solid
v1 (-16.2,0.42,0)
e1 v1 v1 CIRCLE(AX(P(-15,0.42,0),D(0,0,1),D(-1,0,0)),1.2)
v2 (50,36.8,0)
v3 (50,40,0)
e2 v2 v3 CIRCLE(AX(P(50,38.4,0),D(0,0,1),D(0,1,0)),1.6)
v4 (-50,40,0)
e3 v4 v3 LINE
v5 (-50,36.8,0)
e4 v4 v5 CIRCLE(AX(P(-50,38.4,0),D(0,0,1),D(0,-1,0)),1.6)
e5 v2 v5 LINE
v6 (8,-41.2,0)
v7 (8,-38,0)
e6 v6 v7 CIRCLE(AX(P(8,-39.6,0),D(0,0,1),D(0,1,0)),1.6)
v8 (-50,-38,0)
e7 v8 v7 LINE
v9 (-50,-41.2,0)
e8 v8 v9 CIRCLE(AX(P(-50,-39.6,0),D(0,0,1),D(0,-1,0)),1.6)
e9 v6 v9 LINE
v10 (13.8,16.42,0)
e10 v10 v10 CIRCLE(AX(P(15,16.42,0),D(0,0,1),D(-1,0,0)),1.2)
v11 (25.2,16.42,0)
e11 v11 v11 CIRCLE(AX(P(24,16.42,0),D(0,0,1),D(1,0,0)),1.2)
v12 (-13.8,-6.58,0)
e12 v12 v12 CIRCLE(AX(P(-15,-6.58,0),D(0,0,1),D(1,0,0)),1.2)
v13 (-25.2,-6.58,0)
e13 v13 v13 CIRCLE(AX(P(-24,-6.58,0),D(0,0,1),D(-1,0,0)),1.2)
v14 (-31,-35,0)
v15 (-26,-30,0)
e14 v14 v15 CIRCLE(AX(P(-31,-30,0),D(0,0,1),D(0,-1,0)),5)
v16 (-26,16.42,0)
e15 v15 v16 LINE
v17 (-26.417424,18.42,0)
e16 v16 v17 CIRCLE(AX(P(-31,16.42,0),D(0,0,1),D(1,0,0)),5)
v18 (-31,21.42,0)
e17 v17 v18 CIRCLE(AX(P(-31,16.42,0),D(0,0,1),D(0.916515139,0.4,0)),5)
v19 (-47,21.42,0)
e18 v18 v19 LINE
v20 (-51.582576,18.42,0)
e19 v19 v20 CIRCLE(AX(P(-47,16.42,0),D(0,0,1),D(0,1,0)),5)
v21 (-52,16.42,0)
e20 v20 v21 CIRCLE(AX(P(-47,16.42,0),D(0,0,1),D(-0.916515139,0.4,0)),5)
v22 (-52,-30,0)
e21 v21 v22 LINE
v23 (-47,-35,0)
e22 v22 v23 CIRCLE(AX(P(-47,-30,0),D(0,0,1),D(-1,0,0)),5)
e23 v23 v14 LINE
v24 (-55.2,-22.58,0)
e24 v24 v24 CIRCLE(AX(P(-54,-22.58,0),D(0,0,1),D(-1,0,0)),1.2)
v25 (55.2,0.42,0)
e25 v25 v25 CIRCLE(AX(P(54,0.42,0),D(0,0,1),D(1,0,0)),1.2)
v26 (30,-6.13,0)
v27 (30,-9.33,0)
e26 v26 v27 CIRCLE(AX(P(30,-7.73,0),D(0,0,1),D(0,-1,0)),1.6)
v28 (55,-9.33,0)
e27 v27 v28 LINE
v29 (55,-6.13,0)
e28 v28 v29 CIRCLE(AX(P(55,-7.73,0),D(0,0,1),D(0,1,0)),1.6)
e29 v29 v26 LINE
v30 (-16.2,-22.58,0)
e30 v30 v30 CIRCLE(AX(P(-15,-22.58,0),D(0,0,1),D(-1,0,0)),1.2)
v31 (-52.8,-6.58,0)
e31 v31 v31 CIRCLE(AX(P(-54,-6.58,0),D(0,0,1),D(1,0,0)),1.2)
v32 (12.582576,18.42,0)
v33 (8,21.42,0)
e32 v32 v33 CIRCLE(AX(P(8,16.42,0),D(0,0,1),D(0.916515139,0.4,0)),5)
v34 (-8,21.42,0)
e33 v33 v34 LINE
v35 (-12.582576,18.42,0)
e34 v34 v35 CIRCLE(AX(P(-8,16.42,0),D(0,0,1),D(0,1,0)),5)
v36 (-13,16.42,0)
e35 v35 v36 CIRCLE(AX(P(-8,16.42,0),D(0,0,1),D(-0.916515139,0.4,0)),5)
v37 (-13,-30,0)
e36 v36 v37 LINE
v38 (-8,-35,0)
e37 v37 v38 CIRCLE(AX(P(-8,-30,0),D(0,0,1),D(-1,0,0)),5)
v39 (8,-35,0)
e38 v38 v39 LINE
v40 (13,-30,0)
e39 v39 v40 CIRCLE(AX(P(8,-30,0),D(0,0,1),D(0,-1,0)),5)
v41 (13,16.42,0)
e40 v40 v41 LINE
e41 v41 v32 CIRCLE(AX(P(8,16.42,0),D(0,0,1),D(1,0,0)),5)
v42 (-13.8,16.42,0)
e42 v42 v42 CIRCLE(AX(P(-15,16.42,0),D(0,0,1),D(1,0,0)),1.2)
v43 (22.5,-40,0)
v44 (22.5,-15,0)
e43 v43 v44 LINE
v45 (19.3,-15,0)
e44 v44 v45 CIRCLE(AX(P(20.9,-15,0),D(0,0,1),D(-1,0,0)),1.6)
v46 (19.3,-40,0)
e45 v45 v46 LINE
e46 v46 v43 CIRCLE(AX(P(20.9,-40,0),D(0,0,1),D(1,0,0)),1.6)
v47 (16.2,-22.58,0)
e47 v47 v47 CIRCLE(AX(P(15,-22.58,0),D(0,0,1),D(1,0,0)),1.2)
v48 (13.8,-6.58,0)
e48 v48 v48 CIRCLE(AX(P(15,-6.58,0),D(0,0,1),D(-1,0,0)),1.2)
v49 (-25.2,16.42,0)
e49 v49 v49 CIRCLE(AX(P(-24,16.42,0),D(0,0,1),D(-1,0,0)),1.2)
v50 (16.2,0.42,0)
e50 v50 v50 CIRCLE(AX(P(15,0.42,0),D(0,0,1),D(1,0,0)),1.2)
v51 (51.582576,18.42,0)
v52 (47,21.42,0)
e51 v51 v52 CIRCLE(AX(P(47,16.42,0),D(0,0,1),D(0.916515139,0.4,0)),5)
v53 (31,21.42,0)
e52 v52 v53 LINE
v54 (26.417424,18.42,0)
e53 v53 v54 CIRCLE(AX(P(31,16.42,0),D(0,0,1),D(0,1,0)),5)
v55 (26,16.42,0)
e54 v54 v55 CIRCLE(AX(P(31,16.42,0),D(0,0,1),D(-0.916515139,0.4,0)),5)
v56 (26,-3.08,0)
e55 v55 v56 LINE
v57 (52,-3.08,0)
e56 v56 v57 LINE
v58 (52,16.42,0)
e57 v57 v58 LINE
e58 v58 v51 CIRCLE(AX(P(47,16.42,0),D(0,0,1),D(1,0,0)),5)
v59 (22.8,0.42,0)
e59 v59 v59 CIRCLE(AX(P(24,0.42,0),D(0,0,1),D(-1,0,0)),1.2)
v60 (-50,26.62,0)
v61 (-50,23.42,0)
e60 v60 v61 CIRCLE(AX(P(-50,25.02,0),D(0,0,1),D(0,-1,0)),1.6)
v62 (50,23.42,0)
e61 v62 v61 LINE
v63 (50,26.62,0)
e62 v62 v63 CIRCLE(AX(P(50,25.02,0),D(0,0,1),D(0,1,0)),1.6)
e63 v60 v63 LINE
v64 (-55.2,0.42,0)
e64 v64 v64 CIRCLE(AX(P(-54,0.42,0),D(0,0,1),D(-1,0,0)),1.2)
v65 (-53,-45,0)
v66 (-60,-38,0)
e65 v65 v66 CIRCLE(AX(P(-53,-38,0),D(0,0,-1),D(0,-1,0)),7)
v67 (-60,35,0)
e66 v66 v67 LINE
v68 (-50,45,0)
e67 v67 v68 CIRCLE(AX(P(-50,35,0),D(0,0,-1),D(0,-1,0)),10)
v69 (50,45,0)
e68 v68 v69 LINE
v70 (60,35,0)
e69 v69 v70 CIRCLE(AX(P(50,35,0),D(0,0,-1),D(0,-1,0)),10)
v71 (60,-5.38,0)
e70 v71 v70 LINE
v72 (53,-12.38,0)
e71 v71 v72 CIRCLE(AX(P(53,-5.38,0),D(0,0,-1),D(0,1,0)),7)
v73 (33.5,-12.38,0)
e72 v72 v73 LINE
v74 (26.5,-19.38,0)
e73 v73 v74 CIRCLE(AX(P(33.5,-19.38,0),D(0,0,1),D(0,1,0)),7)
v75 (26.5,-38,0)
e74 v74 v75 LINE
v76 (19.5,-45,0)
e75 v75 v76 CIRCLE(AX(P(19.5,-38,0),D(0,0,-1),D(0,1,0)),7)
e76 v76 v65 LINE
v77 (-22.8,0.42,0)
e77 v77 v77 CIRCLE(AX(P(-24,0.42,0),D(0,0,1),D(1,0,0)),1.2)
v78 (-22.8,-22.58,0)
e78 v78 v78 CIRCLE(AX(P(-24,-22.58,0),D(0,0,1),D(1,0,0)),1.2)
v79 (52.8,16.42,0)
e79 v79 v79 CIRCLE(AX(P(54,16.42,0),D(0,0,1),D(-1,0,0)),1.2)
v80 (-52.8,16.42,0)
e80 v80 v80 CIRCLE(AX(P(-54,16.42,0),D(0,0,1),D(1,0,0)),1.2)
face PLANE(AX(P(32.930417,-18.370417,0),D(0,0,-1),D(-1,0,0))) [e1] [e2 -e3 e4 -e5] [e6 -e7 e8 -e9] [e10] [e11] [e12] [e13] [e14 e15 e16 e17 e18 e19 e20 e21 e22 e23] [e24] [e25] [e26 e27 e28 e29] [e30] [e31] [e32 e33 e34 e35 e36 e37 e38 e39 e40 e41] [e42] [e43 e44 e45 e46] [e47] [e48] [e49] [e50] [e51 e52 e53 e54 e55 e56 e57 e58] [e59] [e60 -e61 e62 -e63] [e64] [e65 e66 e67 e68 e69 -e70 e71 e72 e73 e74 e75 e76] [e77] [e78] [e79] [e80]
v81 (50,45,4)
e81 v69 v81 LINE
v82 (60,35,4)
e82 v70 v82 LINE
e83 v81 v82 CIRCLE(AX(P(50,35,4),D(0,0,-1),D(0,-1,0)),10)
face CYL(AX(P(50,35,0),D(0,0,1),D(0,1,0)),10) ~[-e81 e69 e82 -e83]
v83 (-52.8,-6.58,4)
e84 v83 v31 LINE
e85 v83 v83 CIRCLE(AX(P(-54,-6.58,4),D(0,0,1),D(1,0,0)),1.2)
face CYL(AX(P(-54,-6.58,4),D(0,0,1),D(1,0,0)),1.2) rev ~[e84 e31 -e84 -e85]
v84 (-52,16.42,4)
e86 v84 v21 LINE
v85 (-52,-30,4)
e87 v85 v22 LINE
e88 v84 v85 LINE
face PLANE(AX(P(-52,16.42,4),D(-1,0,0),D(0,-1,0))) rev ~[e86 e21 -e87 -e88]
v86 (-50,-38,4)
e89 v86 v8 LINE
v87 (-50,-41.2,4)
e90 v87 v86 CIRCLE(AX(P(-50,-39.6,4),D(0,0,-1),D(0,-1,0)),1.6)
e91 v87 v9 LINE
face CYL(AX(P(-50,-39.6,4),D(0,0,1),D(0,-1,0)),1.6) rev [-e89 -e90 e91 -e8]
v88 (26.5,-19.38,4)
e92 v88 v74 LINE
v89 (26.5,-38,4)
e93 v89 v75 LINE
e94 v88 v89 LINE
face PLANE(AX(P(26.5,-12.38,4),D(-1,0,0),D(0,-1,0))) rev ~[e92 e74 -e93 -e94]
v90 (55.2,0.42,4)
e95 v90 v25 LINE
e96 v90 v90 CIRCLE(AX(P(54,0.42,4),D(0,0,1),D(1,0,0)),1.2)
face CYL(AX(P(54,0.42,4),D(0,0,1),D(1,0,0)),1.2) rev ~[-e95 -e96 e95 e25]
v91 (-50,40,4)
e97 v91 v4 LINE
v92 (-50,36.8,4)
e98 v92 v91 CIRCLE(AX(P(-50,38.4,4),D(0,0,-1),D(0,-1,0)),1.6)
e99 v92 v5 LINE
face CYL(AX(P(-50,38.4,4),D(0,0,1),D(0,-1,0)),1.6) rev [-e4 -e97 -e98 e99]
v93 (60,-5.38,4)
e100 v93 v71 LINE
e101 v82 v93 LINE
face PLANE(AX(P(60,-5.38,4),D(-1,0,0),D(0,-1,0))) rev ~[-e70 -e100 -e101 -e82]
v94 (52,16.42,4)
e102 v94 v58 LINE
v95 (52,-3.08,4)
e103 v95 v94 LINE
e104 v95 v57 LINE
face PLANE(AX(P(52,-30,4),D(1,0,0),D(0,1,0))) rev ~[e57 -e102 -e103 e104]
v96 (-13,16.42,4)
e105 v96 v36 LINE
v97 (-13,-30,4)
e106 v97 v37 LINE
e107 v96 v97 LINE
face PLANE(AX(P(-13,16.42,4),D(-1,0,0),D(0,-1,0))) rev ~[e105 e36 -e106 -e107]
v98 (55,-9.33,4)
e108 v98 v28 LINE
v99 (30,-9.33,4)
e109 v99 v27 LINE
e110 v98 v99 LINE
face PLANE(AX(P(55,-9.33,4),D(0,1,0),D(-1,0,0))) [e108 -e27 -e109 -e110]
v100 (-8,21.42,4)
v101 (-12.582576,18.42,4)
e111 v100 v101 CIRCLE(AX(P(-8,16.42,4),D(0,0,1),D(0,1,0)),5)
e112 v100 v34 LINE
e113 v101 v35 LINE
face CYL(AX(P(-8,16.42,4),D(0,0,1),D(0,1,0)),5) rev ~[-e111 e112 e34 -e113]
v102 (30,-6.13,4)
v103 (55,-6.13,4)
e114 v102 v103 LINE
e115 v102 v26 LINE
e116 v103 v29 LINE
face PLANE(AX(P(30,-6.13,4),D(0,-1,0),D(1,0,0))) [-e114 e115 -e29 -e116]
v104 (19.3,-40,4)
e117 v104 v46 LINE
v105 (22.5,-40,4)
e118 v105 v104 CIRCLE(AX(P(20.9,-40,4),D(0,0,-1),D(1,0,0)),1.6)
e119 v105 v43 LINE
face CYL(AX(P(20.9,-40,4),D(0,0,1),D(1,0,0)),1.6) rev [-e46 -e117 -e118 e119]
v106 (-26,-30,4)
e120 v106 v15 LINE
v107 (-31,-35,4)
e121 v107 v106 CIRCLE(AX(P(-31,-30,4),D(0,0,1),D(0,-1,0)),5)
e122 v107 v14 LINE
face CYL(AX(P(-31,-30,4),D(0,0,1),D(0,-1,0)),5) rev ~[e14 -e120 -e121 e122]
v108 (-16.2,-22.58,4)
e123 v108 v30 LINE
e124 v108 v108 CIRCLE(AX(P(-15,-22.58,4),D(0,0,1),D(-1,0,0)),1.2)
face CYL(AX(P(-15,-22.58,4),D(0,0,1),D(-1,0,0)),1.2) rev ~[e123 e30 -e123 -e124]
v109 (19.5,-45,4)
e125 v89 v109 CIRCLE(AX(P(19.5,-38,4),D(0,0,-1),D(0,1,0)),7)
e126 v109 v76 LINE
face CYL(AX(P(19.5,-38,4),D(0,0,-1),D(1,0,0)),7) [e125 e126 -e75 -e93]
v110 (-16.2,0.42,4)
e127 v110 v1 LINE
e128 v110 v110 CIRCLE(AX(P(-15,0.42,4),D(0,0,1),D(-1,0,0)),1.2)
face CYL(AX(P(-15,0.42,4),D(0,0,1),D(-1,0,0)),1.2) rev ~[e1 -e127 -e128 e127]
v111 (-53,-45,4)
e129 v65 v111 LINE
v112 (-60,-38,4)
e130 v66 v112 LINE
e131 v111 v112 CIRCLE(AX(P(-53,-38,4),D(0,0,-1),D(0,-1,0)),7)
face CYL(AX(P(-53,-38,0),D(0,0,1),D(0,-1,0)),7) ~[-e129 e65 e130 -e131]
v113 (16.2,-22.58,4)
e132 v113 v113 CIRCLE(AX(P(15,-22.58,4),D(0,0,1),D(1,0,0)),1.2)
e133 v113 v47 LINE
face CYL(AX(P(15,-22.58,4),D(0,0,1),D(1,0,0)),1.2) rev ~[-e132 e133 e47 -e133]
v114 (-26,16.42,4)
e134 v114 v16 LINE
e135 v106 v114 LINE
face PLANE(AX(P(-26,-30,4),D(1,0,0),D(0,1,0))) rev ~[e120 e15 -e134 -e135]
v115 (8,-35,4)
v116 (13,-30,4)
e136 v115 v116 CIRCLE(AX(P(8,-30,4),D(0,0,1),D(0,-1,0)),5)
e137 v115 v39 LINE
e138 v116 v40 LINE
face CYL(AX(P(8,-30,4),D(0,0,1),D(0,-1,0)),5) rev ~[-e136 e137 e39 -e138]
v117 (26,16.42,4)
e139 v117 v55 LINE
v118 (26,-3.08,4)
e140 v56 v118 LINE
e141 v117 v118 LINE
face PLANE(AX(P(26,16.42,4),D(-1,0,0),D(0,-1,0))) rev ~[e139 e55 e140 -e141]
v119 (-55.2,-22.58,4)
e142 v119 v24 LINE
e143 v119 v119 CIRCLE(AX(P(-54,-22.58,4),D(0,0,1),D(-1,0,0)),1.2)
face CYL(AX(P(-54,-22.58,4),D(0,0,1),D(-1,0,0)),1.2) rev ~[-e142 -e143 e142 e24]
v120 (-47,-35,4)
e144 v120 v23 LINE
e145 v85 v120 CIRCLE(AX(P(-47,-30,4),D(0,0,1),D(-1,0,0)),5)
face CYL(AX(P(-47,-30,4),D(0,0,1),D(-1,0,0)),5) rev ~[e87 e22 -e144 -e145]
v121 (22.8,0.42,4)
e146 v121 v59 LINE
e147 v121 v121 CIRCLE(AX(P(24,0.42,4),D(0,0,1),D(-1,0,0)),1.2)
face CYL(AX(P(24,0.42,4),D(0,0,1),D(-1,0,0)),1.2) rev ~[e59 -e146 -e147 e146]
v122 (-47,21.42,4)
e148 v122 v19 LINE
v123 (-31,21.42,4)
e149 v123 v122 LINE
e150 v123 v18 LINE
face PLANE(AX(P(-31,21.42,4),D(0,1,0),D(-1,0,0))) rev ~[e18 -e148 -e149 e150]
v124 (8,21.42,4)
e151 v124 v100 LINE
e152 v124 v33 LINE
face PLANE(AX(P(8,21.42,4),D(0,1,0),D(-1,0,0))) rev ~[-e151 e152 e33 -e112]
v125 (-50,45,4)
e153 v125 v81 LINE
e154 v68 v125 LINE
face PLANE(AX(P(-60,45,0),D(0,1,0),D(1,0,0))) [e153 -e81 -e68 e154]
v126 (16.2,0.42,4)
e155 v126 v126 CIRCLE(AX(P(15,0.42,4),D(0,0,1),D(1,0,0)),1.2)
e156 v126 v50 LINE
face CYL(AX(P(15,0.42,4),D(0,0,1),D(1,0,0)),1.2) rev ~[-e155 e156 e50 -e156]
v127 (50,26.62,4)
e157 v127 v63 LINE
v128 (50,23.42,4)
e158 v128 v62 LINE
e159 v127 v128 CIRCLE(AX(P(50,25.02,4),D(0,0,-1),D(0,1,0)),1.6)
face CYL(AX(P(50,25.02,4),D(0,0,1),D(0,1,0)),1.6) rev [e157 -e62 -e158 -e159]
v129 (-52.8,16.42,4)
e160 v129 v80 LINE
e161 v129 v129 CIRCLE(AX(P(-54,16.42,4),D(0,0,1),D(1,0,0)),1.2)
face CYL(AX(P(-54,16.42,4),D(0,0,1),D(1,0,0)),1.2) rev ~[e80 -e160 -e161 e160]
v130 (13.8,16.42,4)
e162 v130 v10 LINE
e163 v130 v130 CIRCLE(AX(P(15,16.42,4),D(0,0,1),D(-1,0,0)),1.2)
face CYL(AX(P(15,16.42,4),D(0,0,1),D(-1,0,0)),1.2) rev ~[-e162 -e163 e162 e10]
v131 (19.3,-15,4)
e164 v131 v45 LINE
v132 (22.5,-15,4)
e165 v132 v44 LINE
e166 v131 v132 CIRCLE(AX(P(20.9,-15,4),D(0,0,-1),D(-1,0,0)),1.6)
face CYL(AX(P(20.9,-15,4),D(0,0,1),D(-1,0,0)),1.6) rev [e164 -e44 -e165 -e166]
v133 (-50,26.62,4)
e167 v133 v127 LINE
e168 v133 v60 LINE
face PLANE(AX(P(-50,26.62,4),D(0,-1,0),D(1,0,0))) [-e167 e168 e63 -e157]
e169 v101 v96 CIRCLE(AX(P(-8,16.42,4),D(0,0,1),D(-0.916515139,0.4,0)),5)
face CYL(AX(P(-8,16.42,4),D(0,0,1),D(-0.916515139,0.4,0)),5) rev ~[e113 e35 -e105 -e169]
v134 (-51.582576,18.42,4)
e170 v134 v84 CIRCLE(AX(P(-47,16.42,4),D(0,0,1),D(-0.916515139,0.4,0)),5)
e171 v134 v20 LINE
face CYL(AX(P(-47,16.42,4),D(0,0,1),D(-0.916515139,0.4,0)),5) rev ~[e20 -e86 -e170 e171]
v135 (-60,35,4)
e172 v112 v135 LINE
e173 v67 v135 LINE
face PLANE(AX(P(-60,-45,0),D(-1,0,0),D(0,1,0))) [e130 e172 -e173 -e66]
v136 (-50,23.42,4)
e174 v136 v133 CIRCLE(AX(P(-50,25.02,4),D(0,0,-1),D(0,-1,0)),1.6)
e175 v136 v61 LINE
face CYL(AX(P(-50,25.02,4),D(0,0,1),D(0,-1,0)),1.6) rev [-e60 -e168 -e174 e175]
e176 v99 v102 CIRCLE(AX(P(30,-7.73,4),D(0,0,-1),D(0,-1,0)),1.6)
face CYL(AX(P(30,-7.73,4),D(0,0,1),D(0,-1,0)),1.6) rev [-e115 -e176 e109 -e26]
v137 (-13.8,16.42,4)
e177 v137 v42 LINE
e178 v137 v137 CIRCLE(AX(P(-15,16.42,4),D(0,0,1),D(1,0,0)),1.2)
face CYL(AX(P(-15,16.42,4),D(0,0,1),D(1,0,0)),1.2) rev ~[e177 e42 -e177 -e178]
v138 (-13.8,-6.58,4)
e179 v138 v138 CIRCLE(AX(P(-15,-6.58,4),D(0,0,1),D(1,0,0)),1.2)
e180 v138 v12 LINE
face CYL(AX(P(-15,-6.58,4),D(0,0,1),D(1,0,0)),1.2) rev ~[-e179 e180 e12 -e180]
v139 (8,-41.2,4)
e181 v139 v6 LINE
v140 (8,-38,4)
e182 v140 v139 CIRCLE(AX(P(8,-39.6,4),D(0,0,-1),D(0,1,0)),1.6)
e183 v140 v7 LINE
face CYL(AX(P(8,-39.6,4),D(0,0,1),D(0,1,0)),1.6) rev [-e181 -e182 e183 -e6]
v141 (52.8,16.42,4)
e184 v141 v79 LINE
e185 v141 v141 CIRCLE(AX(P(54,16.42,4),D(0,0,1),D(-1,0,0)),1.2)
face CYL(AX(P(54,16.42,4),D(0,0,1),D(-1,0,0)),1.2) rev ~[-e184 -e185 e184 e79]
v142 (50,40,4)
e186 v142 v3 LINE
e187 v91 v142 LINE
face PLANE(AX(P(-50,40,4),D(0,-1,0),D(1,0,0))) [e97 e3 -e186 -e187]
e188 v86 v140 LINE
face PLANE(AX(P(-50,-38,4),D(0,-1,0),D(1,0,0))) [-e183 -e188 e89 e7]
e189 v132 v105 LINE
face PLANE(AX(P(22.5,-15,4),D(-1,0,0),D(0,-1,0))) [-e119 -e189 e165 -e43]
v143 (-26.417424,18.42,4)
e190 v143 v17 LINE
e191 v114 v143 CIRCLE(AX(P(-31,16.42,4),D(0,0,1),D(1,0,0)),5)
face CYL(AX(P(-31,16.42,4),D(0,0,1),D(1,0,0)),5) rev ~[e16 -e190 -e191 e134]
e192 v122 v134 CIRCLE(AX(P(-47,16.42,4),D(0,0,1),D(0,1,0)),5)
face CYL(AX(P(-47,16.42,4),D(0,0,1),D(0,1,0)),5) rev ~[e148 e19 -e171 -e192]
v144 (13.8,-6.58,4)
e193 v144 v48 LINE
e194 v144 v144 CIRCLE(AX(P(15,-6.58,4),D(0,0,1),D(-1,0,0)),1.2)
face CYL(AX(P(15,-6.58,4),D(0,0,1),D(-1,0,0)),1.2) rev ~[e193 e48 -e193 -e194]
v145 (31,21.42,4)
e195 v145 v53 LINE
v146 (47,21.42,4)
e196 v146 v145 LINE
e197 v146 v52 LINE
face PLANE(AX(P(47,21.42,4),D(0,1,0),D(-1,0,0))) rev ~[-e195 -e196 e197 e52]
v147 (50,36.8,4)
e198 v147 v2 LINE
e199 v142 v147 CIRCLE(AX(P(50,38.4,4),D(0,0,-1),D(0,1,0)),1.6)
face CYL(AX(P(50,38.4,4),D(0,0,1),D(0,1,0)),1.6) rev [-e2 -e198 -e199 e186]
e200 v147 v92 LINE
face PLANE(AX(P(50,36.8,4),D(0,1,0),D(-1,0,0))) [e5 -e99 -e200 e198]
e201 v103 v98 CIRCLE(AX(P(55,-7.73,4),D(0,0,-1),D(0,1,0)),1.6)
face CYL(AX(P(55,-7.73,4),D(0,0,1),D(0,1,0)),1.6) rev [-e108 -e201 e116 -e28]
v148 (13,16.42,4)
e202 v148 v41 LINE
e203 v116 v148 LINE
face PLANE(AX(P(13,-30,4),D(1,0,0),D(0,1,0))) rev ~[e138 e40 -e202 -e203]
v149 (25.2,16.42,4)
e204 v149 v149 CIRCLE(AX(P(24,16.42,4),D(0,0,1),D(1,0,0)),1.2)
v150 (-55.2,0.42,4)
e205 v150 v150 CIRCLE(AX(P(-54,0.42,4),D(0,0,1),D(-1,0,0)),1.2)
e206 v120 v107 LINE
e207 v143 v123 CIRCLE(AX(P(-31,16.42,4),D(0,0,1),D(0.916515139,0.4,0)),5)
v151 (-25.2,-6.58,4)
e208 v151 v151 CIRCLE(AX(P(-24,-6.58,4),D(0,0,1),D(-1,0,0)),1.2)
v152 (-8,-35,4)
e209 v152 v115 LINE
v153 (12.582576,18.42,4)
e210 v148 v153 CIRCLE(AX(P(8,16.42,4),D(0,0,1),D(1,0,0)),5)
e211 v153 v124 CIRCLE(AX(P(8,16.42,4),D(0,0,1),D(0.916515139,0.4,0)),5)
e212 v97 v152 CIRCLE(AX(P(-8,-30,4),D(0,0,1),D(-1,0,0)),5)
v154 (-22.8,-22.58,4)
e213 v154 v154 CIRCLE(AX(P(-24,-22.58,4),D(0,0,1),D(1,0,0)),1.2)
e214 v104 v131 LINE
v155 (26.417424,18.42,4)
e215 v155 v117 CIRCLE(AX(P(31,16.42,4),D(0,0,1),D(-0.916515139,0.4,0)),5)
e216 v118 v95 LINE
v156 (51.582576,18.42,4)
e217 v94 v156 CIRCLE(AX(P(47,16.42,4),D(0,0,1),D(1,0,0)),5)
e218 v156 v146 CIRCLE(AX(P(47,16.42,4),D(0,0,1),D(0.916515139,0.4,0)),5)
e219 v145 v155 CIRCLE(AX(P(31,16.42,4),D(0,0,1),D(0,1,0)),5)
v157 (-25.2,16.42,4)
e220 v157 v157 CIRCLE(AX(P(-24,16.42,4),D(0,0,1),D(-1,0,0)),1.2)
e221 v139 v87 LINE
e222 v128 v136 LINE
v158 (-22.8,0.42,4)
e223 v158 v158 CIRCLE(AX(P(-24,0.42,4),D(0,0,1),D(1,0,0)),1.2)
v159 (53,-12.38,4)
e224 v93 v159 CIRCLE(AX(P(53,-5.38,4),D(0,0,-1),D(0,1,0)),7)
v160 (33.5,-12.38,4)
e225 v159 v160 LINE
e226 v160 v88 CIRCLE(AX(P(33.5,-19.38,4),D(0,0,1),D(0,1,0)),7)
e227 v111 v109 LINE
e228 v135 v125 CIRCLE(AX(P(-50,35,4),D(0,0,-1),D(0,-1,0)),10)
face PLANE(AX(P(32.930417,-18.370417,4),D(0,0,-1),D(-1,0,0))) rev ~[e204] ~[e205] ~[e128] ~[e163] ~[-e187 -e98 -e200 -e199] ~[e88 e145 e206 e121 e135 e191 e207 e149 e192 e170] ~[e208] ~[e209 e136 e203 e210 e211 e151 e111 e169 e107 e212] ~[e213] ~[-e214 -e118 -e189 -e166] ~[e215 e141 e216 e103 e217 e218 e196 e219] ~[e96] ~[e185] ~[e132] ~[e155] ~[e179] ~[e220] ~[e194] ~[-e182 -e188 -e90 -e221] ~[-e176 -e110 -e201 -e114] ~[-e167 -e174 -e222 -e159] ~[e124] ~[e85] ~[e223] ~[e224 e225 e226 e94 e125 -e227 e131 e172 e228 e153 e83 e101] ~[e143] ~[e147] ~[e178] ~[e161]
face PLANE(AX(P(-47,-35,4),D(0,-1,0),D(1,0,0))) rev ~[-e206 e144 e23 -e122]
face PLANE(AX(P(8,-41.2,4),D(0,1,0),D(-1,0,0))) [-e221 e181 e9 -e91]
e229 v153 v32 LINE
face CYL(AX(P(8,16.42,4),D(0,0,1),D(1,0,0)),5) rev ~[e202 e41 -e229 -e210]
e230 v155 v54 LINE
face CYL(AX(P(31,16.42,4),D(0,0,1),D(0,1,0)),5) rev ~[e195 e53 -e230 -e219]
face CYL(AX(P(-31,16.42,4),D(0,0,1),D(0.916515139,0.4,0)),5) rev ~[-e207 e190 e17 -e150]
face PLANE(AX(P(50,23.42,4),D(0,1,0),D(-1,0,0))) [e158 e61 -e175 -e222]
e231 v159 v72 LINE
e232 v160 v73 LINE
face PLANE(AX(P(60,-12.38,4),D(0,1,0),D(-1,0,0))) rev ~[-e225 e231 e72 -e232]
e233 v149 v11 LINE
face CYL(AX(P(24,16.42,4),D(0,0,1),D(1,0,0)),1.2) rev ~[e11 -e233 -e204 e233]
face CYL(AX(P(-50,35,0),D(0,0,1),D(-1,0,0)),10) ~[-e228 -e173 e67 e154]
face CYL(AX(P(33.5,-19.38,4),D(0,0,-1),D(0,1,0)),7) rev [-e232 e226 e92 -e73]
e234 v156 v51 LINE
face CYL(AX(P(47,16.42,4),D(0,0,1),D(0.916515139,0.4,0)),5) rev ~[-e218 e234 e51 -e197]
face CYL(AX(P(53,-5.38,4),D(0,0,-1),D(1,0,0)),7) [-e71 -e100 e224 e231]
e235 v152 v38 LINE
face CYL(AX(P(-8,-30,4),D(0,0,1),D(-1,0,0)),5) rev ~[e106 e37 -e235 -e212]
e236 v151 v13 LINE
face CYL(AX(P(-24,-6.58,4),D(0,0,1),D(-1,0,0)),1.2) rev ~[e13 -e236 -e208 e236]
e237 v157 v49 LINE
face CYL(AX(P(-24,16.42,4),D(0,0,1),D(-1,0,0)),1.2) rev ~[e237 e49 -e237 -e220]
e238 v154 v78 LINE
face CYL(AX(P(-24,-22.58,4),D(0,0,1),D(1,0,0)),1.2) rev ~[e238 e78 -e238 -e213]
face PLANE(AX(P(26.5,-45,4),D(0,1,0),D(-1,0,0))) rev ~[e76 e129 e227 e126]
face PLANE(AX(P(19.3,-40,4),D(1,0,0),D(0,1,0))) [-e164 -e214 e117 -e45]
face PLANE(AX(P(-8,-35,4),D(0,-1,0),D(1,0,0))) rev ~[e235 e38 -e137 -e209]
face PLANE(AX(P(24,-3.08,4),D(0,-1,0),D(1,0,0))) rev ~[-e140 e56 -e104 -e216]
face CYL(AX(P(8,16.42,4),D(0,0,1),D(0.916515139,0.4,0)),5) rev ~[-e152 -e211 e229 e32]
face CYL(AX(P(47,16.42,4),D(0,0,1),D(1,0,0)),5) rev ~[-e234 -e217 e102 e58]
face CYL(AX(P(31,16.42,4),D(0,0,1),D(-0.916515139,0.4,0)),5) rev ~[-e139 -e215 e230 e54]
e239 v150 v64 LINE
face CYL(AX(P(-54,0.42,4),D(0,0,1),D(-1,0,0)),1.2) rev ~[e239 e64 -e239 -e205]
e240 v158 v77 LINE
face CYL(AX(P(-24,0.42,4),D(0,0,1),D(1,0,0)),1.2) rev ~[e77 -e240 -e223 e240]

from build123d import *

# Parameters (mm, degrees)
SKETCH1_W            = 120
SKETCH1_H            = 90
PLATE_DEPTH          = 4
SLOT_CUT_DEPTH       = 76.106590923
SECOND_SLOT_COUNT    = 2
SECOND_SLOT_PITCH    = 13.38
MOTOR_OUTLINE_R      = 1.2
MOTOR_MOUNT_DEPTH    = 76.106590923
MOTORS_COUNT         = 3
MOTORS_PITCH         = 39
MOTORS_COUNT_DIR2    = 2
MOTORS_PITCH_DIR2    = 23
MOTOR_CUTOUT_DEPTH   = 76.106590923
CUTOUT_PATTERN_COUNT = 3
CUTOUT_PATTERN_PITCH = 39
FILLET1_R            = 10
SKETCH5_W            = 28
SKETCH5_H            = 2.3
BOSS_EXTRUDE1_DEPTH  = 4
SKETCH6_W            = 40.5
SKETCH6_H            = 39.62
CUT_EXTRUDE1_DEPTH   = 76.106590923
U2D2_MOUNT_DEPTH     = 76.106590923
BOSS_EXTRUDE2_DEPTH  = 4
THUMB_MOUNT_DEPTH    = 76.106590923
FILLET3_R            = 7


with BuildPart() as part:
    # Sketch1 → plate (new body)
    with BuildSketch(Plane.XY):
        Rectangle(SKETCH1_W, SKETCH1_H)
    extrude(amount=PLATE_DEPTH)

    # Sketch2 → slot_cut (cut, through all)
    with BuildSketch(Plane.XY.offset(4)):
        with BuildLine():
            Line((50, 36.8), (-50, 36.8))
            ThreePointArc((-50, 36.8), (-51.6, 38.4), (-50, 40))
            Line((-50, 40), (50, 40))
            ThreePointArc((50, 40), (51.6, 38.4), (50, 36.8))
        make_face()
    slot_cut = extrude(amount=-SLOT_CUT_DEPTH, mode=Mode.SUBTRACT)

    # second_slot: slot_cut ×2
    with Locations(*[(0, -i * SECOND_SLOT_PITCH, 0) for i in range(1, SECOND_SLOT_COUNT)]):
        add(slot_cut, mode=Mode.SUBTRACT)

    # motor_outline → motor_mount (cut, through all)
    with BuildSketch(Plane.XY.offset(4)):
        with Locations((-54, 16.42)):
            Circle(MOTOR_OUTLINE_R)
        with Locations(Location((-54, 0.42, 0), (0, 0, 180))):
            Circle(MOTOR_OUTLINE_R)
        with Locations((-24, 0.42)):
            Circle(MOTOR_OUTLINE_R)
        with Locations(Location((-24, 16.42, 0), (0, 0, 180))):
            Circle(MOTOR_OUTLINE_R)
    motor_mount = extrude(amount=-MOTOR_MOUNT_DEPTH, mode=Mode.SUBTRACT)

    # motors: motor_mount 3 × 2
    with Locations(*[(i * MOTORS_PITCH, -j * MOTORS_PITCH_DIR2, 0) for i in range(MOTORS_COUNT) for j in range(MOTORS_COUNT_DIR2) if (i, j) != (0, 0)]):
        add(motor_mount, mode=Mode.SUBTRACT)

    # motor_outline<5> → motor_cutout (cut, through all)
    with BuildSketch(Plane.XY.offset(4)):
        with BuildLine():
            Line((-26, -30), (-26, -1.58))
            Line((-26, -1.58), (-52, -1.58))
            Line((-52, -1.58), (-52, -30))
            ThreePointArc((-52, -30), (-50.535533906, -33.535533906), (-47, -35))
            Line((-47, -35), (-31, -35))
            ThreePointArc((-31, -35), (-27.464466094, -33.535533906), (-26, -30))
        make_face()
        with BuildLine():
            Line((-52, -1.58), (-26, -1.58))
            Line((-26, -1.58), (-26, 16.42))
            ThreePointArc((-26, 16.42), (-26.105468435, 17.441548218), (-26.417424305, 18.42))
            Line((-26.417424305, 18.42), (-51.582575695, 18.42))
            ThreePointArc((-51.582575695, 18.42), (-51.894531565, 17.441548218), (-52, 16.42))
            Line((-52, 16.42), (-52, -1.58))
        make_face()
        with BuildLine():
            Line((-51.582575695, 18.42), (-26.417424305, 18.42))
            ThreePointArc((-26.417424305, 18.42), (-28.261387212, 20.603300133), (-31, 21.42))
            Line((-31, 21.42), (-47, 21.42))
            ThreePointArc((-47, 21.42), (-49.738612788, 20.603300133), (-51.582575695, 18.42))
        make_face()
    motor_cutout = extrude(amount=-MOTOR_CUTOUT_DEPTH, mode=Mode.SUBTRACT)

    # cutout_pattern: motor_cutout ×3
    with Locations(*[(i * CUTOUT_PATTERN_PITCH, 0, 0) for i in range(1, CUTOUT_PATTERN_COUNT)]):
        add(motor_cutout, mode=Mode.SUBTRACT)

    # Fillet1
    fillet1_edges = [part.edges().sort_by_distance(p)[0] for p in [
        (-60, 45, 2),
        (60, 45, 2),
    ]]
    fillet(fillet1_edges, radius=FILLET1_R)

    # Sketch5 → Boss-Extrude1 (add)
    with BuildSketch(Plane.XY.offset(4)):
        with Locations((38, -4.23)):
            Rectangle(SKETCH5_W, SKETCH5_H)
    extrude(amount=-BOSS_EXTRUDE1_DEPTH)

    # Sketch6 → Cut-Extrude1 (cut, through all)
    with BuildSketch(Plane.XY.offset(4)):
        with Locations((39.75, -25.19)):
            Rectangle(SKETCH6_W, SKETCH6_H)
    extrude(amount=-CUT_EXTRUDE1_DEPTH, mode=Mode.SUBTRACT)

    # Sketch7 → U2D2_mount (cut, through all)
    with BuildSketch(Plane.XY.offset(4)):
        with BuildLine():
            Line((-50, -38), (8, -38))
            ThreePointArc((8, -38), (9.6, -39.6), (8, -41.2))
            Line((8, -41.2), (-50, -41.2))
            ThreePointArc((-50, -41.2), (-51.6, -39.6), (-50, -38))
        make_face()
    extrude(amount=-U2D2_MOUNT_DEPTH, mode=Mode.SUBTRACT)

    # Sketch8 → Boss-Extrude2 (add)
    with BuildSketch(Plane.XY.offset(4)):
        Polygon((19.5, -5.38), (60, -5.38), (60, -12.38), (26.5, -12.38), (26.5, -45), (19.5, -45), align=None)
    extrude(amount=-BOSS_EXTRUDE2_DEPTH)

    # Sketch9 → thumb_mount (cut, through all)
    with BuildSketch(Plane.XY.offset(4)):
        with BuildLine():
            Line((30, -6.13), (55, -6.13))
            ThreePointArc((55, -6.13), (56.6, -7.73), (55, -9.33))
            Line((55, -9.33), (30, -9.33))
            ThreePointArc((30, -9.33), (28.4, -7.73), (30, -6.13))
        make_face()
        with BuildLine():
            Line((22.5, -15), (22.5, -40))
            ThreePointArc((22.5, -40), (20.9, -41.6), (19.3, -40))
            Line((19.3, -40), (19.3, -15))
            ThreePointArc((19.3, -15), (20.9, -13.4), (22.5, -15))
        make_face()
    extrude(amount=-THUMB_MOUNT_DEPTH, mode=Mode.SUBTRACT)

    # Fillet3
    fillet3_edges = [part.edges().sort_by_distance(p)[0] for p in [
        (60, -12.38, 2),
        (26.5, -12.38, 2),
        (26.5, -45, 2),
        (-60, -45, 2),
    ]]
    fillet(fillet3_edges, radius=FILLET3_R)


solid = part.part
